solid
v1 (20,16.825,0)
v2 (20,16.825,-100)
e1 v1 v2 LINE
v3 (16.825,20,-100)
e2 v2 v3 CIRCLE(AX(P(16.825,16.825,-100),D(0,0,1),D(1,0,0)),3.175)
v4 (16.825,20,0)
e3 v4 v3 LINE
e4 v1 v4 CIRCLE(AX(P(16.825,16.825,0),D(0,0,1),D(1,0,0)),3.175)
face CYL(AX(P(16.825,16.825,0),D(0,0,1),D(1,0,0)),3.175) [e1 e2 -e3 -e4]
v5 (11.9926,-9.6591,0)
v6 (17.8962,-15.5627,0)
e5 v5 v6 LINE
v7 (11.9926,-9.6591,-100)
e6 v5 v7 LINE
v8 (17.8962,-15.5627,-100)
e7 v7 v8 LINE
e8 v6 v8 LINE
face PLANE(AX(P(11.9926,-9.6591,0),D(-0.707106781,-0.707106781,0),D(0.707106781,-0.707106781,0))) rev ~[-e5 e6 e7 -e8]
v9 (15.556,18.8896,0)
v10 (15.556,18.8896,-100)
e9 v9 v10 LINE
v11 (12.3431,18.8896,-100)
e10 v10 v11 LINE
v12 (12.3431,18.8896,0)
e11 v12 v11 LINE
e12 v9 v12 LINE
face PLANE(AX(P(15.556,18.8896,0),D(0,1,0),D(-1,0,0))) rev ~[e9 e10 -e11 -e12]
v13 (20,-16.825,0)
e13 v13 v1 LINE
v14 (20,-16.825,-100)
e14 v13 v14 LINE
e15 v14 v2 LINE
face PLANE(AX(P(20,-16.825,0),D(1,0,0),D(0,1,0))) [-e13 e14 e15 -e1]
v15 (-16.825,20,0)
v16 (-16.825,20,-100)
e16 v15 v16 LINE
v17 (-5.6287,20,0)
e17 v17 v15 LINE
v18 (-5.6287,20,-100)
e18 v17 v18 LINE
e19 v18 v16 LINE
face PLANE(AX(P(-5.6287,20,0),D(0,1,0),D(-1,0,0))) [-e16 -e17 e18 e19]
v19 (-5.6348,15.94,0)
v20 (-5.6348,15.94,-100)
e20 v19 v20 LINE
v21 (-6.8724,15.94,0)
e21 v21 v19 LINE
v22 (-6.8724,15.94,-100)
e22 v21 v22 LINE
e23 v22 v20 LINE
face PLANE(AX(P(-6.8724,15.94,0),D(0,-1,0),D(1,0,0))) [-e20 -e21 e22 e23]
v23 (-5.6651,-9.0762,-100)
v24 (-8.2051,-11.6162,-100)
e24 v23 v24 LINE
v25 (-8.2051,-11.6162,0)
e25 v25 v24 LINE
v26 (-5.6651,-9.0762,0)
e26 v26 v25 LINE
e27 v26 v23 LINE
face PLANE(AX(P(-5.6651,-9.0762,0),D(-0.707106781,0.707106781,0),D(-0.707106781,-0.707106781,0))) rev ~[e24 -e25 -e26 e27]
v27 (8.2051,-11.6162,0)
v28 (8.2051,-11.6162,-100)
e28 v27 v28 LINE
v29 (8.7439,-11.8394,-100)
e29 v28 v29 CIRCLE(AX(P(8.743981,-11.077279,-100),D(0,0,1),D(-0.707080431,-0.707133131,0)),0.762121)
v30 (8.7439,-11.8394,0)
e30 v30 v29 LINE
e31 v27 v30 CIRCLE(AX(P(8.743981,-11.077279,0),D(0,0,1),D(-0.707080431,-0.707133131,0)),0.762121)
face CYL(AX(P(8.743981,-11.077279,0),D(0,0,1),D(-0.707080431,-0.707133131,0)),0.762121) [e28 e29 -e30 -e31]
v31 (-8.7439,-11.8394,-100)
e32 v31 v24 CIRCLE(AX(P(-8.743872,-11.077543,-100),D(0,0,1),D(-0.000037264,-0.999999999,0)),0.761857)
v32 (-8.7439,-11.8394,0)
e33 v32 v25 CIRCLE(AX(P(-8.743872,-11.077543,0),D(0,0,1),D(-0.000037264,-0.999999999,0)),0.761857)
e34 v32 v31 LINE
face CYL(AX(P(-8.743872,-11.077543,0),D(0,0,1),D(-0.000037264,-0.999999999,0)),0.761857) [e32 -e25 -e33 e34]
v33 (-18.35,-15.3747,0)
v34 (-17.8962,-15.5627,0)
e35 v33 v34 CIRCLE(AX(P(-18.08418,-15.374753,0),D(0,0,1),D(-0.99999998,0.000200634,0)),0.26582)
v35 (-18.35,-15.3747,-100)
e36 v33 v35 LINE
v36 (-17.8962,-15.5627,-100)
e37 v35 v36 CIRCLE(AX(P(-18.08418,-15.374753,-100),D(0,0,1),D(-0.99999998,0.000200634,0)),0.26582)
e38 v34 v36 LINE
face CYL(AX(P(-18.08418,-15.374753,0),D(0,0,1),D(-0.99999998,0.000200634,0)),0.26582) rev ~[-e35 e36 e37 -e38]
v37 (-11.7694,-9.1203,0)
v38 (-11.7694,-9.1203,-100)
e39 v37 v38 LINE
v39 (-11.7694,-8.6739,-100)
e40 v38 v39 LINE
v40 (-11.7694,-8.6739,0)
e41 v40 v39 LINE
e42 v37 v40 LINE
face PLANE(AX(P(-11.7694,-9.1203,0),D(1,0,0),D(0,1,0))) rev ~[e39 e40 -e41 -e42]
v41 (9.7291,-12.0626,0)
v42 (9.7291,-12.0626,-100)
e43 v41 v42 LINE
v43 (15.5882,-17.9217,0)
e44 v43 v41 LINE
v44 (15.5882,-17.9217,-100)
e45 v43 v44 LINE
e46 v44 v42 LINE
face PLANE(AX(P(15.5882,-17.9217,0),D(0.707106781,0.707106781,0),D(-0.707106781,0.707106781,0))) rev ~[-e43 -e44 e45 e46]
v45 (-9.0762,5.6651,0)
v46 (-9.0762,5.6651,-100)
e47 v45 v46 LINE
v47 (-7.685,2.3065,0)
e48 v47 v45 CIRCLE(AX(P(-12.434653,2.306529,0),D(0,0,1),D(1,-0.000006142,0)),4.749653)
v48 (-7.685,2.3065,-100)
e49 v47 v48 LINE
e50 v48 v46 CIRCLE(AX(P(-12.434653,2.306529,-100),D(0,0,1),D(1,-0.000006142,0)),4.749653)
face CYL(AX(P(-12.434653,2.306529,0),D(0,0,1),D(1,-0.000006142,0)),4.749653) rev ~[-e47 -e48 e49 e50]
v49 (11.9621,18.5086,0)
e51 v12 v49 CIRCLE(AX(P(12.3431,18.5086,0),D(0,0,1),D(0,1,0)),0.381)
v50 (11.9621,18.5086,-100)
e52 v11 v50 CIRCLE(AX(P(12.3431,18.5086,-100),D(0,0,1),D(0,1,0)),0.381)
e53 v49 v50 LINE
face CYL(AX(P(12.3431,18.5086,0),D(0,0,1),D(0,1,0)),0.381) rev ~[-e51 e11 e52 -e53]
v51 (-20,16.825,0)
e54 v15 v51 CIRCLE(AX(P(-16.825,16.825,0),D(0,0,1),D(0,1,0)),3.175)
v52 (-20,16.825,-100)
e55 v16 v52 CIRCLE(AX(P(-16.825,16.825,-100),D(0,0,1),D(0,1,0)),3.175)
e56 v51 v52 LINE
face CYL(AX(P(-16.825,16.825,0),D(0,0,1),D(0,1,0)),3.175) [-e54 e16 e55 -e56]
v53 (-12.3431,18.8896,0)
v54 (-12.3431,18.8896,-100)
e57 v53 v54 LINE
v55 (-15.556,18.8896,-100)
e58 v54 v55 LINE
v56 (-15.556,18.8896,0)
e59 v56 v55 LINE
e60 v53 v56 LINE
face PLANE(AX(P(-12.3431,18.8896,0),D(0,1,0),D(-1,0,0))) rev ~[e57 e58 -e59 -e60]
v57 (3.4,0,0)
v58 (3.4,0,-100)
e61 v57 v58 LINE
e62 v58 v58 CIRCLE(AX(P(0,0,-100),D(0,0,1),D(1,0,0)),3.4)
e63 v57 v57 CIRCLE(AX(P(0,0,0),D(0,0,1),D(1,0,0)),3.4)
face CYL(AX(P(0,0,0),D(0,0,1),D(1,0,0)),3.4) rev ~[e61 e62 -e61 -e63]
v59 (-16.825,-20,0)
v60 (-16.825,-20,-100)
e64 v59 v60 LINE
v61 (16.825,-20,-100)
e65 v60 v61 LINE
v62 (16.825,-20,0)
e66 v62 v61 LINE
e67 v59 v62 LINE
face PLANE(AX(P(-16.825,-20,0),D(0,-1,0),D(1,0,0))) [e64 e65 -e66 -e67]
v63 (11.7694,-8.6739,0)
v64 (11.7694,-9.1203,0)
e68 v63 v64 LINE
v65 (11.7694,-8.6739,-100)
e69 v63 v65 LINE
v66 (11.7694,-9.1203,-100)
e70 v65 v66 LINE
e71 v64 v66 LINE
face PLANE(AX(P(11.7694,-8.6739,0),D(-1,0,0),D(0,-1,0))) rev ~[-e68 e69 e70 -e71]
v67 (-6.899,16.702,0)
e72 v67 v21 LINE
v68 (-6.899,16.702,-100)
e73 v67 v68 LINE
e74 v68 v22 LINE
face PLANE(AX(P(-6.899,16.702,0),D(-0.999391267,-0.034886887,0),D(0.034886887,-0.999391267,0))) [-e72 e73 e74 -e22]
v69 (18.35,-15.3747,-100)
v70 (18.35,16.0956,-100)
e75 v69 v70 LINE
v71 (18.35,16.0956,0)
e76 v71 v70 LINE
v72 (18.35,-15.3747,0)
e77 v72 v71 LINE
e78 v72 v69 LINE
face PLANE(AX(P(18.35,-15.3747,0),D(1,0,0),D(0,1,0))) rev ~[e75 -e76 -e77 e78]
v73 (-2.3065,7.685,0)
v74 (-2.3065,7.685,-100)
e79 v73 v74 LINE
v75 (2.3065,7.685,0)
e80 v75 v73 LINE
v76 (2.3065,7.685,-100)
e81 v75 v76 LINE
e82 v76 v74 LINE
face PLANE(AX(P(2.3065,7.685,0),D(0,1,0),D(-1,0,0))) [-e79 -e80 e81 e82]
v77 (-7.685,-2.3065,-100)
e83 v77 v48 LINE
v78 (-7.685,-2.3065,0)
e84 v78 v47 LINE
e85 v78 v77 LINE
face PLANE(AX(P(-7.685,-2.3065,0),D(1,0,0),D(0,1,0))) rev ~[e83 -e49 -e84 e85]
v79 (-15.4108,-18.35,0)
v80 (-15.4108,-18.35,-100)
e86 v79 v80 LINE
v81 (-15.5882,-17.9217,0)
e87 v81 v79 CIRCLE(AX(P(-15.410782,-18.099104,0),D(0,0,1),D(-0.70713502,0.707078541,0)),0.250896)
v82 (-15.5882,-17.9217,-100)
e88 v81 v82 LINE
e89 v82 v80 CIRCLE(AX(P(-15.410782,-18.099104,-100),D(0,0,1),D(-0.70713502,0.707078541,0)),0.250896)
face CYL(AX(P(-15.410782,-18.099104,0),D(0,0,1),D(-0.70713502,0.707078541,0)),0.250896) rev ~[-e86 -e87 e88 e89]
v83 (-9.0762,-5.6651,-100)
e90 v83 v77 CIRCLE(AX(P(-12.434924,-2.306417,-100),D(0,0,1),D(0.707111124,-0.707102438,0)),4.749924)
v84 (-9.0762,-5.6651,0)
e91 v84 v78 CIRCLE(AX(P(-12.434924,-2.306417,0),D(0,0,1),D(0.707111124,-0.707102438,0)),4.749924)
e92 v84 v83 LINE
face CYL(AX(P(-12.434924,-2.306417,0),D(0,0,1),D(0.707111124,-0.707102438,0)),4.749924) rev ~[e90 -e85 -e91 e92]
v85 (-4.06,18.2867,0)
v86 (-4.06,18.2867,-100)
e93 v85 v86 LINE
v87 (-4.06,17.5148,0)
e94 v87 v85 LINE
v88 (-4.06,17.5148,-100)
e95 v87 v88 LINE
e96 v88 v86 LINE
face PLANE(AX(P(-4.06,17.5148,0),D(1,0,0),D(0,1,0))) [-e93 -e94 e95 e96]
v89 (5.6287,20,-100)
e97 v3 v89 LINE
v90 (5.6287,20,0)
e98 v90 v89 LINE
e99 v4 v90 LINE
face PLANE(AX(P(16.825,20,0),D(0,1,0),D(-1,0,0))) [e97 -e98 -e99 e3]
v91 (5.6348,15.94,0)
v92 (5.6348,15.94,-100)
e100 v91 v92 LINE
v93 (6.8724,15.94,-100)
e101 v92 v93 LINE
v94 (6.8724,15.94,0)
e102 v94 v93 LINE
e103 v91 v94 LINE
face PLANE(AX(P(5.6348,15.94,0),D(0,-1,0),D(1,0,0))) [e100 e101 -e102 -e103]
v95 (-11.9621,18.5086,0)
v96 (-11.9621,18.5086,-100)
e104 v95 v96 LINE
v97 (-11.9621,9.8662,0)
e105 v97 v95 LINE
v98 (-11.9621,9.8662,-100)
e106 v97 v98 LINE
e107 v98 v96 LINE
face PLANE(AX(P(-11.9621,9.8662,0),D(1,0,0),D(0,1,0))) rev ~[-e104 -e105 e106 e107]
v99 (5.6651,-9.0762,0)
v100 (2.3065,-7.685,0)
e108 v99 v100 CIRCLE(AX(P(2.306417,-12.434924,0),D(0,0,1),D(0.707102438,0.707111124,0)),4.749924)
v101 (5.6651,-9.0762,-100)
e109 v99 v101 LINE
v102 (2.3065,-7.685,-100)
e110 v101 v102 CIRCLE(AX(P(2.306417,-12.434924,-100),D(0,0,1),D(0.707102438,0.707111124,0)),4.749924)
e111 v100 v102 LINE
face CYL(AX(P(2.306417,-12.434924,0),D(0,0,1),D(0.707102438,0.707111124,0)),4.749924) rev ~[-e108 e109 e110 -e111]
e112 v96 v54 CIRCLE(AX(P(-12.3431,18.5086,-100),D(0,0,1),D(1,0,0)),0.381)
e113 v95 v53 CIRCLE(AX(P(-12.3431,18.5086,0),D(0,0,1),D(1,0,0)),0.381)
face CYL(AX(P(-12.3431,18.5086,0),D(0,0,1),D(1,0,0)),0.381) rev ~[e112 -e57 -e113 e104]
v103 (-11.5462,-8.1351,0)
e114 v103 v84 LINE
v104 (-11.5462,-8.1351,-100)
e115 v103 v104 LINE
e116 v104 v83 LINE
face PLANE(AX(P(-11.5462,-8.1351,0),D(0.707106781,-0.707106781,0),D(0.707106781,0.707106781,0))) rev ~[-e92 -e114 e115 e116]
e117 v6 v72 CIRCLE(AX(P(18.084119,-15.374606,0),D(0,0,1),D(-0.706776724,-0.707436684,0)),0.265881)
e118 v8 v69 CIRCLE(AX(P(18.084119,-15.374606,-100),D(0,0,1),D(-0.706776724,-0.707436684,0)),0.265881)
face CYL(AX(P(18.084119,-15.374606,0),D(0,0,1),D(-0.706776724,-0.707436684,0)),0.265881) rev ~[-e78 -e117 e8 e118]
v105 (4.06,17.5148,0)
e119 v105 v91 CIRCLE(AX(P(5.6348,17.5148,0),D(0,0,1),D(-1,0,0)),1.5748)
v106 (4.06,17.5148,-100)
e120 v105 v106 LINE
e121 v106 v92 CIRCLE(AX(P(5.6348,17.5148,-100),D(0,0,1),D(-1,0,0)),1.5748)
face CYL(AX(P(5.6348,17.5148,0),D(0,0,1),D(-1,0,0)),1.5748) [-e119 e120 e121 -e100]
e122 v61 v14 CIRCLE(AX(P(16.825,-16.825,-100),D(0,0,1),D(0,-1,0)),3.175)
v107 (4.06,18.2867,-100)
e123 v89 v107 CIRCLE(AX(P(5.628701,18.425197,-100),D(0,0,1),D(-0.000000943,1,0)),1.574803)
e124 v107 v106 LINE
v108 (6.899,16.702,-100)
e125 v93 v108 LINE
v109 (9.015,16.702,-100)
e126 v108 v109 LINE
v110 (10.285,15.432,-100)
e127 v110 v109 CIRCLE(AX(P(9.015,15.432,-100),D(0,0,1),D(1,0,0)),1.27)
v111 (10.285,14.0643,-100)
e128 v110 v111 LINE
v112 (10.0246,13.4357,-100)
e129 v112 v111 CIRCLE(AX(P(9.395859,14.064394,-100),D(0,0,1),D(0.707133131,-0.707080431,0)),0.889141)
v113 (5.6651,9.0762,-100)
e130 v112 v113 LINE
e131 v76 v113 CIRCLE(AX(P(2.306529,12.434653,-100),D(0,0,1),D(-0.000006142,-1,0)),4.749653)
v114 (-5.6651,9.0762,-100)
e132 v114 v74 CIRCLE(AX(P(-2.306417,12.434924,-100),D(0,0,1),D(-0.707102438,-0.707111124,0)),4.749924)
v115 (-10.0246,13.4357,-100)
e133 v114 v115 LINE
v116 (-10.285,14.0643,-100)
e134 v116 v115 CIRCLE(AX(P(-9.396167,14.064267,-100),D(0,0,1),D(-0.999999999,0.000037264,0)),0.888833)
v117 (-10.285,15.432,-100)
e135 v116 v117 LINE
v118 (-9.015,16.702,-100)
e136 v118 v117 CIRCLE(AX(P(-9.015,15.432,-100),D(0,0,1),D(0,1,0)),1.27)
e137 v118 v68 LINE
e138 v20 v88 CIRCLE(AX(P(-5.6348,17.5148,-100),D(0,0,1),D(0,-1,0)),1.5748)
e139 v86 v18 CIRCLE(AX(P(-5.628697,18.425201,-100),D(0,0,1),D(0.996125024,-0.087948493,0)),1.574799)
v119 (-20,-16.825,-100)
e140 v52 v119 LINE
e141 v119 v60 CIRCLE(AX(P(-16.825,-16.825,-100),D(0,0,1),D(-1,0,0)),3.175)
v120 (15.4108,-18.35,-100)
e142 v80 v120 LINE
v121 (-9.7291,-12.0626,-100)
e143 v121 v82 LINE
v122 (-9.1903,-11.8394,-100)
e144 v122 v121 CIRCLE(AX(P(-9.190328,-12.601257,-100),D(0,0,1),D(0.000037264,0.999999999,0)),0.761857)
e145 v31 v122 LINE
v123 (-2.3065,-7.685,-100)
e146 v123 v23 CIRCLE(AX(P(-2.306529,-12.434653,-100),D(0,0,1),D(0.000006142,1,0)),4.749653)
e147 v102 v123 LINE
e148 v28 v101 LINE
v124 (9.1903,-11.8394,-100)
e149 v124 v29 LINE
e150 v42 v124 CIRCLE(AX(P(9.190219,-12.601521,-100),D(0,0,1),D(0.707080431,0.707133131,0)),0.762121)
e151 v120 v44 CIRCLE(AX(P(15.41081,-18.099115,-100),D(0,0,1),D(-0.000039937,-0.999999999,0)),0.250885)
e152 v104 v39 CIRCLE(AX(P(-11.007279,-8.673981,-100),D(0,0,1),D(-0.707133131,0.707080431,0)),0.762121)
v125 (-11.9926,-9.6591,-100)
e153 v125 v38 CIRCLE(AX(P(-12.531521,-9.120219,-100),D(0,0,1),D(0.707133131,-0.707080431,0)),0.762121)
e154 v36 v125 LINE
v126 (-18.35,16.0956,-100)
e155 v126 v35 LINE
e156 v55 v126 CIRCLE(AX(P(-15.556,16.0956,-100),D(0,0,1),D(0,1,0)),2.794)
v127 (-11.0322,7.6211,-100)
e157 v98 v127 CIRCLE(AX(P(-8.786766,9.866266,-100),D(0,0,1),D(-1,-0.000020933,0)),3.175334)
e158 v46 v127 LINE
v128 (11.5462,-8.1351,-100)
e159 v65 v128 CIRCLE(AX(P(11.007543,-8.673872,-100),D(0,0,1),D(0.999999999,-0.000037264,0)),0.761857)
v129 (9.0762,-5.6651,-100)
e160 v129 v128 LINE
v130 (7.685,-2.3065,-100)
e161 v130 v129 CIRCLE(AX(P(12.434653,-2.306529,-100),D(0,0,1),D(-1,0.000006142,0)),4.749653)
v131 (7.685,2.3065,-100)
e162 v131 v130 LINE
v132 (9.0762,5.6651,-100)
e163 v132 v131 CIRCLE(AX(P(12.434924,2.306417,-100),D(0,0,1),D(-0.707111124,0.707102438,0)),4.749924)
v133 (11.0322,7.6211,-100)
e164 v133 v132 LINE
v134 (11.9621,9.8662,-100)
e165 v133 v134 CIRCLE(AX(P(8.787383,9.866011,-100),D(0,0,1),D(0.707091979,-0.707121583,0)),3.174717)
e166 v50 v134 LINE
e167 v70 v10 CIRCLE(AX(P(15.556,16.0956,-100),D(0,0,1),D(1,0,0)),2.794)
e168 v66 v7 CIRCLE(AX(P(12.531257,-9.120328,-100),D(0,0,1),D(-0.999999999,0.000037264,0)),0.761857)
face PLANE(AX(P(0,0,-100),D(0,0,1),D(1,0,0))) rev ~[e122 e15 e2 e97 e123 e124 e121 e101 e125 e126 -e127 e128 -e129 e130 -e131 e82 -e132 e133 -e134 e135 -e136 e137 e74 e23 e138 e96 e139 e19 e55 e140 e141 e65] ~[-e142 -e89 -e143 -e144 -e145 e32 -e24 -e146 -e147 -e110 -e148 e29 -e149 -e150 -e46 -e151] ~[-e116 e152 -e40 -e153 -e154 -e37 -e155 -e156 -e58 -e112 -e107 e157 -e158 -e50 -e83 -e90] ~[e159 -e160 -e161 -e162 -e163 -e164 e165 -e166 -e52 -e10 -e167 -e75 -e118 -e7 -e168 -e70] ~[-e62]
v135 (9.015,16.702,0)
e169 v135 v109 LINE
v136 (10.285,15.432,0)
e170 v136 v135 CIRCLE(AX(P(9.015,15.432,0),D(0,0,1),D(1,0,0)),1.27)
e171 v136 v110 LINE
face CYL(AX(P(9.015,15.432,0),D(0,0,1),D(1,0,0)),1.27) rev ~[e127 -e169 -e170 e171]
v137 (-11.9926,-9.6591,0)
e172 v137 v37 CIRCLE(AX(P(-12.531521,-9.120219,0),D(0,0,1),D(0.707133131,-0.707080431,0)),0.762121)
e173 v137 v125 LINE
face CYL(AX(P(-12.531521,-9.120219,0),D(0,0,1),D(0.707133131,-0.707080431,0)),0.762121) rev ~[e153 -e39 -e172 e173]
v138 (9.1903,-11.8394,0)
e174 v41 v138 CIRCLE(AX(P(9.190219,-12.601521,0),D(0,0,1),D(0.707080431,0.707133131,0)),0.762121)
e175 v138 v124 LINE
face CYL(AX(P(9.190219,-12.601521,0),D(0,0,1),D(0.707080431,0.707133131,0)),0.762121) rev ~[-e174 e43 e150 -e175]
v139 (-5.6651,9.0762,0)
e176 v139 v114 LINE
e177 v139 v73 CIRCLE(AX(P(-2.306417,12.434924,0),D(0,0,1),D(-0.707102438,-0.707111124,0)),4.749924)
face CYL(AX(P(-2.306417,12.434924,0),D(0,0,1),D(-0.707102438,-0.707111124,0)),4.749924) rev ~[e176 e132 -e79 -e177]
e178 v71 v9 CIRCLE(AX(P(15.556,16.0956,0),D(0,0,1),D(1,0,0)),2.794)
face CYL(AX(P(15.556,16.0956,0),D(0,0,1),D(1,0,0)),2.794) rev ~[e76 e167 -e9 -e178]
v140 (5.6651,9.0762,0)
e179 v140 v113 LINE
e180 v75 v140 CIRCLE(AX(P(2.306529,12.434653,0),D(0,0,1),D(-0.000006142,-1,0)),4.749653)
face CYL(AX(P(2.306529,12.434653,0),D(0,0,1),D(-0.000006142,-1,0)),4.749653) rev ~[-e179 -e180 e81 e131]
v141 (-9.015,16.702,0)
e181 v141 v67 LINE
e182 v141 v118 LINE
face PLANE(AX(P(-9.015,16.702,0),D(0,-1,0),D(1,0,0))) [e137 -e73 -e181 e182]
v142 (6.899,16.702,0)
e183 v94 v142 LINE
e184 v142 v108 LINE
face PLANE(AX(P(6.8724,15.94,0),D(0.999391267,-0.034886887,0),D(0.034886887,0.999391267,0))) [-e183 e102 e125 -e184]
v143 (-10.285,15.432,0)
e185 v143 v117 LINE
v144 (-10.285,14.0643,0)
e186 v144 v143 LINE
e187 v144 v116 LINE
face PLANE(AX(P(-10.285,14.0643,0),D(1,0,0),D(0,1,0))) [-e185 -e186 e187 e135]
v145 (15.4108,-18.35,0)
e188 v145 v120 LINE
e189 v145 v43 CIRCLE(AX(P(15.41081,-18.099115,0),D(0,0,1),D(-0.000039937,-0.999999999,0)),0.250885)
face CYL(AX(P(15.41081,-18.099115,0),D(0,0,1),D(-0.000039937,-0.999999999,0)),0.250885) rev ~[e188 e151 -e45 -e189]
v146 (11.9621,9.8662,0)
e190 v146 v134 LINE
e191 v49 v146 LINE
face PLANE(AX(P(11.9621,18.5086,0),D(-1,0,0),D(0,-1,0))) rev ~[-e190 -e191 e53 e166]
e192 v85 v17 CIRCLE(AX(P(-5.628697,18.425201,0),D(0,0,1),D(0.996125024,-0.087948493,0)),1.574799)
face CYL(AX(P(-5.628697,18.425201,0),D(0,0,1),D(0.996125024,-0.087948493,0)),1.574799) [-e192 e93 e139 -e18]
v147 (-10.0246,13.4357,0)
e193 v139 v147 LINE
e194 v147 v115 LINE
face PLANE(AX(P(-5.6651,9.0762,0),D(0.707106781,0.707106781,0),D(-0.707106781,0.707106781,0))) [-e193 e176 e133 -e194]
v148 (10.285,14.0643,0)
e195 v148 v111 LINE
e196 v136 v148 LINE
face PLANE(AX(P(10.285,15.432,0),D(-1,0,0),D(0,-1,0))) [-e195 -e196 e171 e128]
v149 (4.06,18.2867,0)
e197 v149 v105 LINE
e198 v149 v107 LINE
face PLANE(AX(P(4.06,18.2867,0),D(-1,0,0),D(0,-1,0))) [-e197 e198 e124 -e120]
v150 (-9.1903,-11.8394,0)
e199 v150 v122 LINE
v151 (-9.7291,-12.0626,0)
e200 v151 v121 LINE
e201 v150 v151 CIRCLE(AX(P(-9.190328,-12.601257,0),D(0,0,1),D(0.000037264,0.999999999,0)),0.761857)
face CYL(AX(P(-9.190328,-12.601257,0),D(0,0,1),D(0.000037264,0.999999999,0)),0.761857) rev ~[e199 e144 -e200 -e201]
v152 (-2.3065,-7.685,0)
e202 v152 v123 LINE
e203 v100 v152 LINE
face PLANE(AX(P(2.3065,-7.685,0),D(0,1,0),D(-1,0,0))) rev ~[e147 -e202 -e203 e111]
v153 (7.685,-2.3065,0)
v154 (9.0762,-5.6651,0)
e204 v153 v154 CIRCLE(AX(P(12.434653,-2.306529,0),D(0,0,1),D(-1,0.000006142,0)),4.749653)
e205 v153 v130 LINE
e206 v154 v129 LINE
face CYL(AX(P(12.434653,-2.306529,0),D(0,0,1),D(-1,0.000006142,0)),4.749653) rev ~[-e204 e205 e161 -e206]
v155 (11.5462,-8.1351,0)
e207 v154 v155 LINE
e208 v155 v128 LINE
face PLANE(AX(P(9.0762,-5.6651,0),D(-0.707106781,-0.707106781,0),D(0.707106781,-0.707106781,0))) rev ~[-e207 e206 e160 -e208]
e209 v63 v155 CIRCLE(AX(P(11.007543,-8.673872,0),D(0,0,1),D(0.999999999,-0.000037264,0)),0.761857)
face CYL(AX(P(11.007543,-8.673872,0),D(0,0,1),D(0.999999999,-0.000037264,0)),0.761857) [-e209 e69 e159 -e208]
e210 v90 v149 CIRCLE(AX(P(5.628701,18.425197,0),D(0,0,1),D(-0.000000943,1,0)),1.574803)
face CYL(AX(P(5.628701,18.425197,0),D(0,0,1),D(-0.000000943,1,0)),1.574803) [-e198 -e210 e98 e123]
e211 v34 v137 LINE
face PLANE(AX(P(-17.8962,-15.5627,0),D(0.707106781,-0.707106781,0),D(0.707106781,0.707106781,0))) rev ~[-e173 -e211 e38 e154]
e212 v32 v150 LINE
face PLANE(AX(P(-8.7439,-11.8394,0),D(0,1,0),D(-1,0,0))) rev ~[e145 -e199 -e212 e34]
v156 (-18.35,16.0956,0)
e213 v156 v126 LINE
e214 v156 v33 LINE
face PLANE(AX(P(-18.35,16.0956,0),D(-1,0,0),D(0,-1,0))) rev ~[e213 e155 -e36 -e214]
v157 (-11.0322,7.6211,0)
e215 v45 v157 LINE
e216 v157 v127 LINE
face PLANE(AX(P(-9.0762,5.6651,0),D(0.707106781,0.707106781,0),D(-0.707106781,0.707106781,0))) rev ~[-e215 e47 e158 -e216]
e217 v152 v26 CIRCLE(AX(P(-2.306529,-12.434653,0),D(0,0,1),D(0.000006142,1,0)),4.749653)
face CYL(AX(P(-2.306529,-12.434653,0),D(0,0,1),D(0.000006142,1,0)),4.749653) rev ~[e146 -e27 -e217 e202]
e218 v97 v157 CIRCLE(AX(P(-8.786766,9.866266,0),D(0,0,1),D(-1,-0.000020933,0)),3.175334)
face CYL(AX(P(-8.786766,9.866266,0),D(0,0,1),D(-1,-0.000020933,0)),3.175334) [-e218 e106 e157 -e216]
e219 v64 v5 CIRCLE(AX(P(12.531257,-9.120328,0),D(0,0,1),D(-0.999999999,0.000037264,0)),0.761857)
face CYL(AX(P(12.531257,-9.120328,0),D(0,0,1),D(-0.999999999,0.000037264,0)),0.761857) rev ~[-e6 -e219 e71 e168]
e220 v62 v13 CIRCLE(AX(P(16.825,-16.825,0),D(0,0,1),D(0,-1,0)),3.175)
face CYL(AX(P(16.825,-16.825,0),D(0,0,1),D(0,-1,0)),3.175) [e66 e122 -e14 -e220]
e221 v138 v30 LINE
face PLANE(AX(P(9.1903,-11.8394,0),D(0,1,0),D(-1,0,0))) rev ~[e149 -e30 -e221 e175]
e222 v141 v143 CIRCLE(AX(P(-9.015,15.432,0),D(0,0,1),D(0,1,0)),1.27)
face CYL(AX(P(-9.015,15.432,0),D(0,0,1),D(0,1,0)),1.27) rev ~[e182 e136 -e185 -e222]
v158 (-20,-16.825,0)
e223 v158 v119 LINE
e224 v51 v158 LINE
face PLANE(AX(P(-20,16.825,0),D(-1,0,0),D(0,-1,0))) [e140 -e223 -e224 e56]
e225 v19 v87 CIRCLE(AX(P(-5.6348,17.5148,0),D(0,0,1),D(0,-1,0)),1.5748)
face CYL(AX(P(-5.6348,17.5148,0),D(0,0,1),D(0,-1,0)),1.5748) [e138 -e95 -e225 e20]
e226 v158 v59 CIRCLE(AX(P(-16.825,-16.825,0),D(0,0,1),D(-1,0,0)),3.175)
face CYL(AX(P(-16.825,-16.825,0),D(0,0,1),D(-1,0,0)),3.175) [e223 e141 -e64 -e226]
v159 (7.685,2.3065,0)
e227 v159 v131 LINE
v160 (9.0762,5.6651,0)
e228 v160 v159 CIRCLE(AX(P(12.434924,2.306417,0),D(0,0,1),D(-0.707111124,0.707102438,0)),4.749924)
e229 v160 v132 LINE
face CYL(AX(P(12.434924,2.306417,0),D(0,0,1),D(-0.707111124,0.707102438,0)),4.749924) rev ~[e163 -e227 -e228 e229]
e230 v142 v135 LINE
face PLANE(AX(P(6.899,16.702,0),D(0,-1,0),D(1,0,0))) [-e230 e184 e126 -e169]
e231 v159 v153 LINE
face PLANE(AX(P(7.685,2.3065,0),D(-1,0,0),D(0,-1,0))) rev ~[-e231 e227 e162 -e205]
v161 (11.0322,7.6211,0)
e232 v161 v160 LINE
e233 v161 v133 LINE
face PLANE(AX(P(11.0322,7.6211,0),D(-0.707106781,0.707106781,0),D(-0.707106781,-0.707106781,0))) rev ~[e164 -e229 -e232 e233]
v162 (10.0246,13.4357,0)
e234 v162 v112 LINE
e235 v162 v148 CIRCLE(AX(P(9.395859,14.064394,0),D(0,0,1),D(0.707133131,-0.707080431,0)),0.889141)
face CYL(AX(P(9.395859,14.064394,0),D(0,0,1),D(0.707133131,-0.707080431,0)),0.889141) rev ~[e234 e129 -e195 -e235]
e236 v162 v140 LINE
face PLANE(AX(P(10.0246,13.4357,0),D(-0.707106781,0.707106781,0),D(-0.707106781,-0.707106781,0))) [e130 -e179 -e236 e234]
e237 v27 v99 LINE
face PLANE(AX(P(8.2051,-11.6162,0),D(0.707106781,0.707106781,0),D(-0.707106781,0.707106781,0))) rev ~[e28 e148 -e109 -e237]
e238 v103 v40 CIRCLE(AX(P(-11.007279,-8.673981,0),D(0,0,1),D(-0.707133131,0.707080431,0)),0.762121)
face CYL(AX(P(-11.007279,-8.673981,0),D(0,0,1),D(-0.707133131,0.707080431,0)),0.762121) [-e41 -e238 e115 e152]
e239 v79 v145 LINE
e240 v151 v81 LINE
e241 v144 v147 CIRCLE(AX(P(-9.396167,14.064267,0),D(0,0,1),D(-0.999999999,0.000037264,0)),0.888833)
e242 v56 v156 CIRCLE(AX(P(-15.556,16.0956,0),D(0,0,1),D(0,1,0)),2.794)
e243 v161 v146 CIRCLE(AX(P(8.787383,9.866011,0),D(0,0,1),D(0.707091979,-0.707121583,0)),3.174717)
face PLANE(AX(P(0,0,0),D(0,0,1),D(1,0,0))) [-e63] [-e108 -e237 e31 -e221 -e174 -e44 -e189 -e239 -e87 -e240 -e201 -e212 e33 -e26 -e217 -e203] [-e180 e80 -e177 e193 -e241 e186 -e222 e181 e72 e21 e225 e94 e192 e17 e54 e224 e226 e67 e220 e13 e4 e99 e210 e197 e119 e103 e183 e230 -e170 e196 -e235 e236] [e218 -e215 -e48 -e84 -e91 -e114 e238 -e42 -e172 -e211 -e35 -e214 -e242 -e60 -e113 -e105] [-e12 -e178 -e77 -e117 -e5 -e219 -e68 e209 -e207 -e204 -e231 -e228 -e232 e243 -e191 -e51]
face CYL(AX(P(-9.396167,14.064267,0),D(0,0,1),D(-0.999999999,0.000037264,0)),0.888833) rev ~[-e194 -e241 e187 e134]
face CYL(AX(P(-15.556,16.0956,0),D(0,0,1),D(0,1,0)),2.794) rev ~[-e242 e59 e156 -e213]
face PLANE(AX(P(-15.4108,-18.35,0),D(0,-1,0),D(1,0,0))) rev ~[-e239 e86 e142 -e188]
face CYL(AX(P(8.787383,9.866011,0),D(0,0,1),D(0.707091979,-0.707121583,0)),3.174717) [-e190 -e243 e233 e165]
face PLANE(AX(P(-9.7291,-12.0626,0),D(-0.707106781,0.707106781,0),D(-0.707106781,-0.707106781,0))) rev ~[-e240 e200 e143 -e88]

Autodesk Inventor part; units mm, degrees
ref_plane "YZ Plane" through (0, 0, 0) normal (1, 0, 0) x (0, 1, 0)
ref_plane "XZ Plane" through (0, 0, 0) normal (0, 1, 0) x (-1, 0, 0)
ref_plane "XY Plane" through (0, 0, 0) normal (0, 0, 1) x (1, 0, 0)
sketch "Sketch1" plane through (0, 0, 0) normal (0, 0, 1) x (1, 0, 0)
  circle A0 centre (0, 0) radius 3.4
  arc A1 (15.4108, -18.35) -> (15.5882, -17.9217) centre (15.4108, -18.0991) ccw
  line L0 (-15.4108, -18.35) -> (15.4108, -18.35)
  arc A2 (-15.5882, -17.9217) -> (-15.4108, -18.35) centre (-15.4108, -18.0991) ccw
  line L1 (-9.7291, -12.0626) -> (-15.5882, -17.9217)
  arc A3 (-9.1903, -11.8394) -> (-9.7291, -12.0626) centre (-9.1903, -12.6014) ccw
  line L2 (-8.7439, -11.8394) -> (-9.1903, -11.8394)
  arc A4 (-8.7439, -11.8394) -> (-8.2051, -11.6162) centre (-8.7439, -11.0774) ccw
  line L3 (-5.6651, -9.0762) -> (-8.2051, -11.6162)
  arc A5 (-2.3065, -7.685) -> (-5.6651, -9.0762) centre (-2.3065, -12.4348) ccw
  line L4 (2.3065, -7.685) -> (-2.3065, -7.685)
  arc A6 (5.6651, -9.0762) -> (2.3065, -7.685) centre (2.3065, -12.4348) ccw
  line L5 (8.2051, -11.6162) -> (5.6651, -9.0762)
  arc A7 (8.2051, -11.6162) -> (8.7439, -11.8394) centre (8.7439, -11.0774) ccw
  line L6 (9.1903, -11.8394) -> (8.7439, -11.8394)
  arc A8 (9.7291, -12.0626) -> (9.1903, -11.8394) centre (9.1903, -12.6014) ccw
  line L7 (15.5882, -17.9217) -> (9.7291, -12.0626)
  arc A9 (11.7694, -8.6739) -> (11.5462, -8.1351) centre (11.0074, -8.6739) ccw
  line L8 (9.0762, -5.6651) -> (11.5462, -8.1351)
  arc A10 (7.685, -2.3065) -> (9.0762, -5.6651) centre (12.4348, -2.3065) ccw
  line L9 (7.685, 2.3065) -> (7.685, -2.3065)
  arc A11 (9.0762, 5.6651) -> (7.685, 2.3065) centre (12.4348, 2.3065) ccw
  line L10 (11.0322, 7.6211) -> (9.0762, 5.6651)
  arc A12 (11.0322, 7.6211) -> (11.9621, 9.8662) centre (8.7871, 9.8662) ccw
  line L11 (11.9621, 18.5086) -> (11.9621, 9.8662)
  arc A13 (12.3431, 18.8896) -> (11.9621, 18.5086) centre (12.3431, 18.5086) ccw
  line L12 (15.556, 18.8896) -> (12.3431, 18.8896)
  arc A14 (18.35, 16.0956) -> (15.556, 18.8896) centre (15.556, 16.0956) ccw
  line L13 (18.35, -15.3747) -> (18.35, 16.0956)
  arc A15 (17.8962, -15.5627) -> (18.35, -15.3747) centre (18.0841, -15.3747) ccw
  line L14 (11.9926, -9.6591) -> (17.8962, -15.5627)
  arc A16 (11.7694, -9.1203) -> (11.9926, -9.6591) centre (12.5314, -9.1203) ccw
  line L15 (11.7694, -8.6739) -> (11.7694, -9.1203)
  arc A17 (-9.0762, -5.6651) -> (-7.685, -2.3065) centre (-12.4348, -2.3065) ccw
  line L16 (-11.5462, -8.1351) -> (-9.0762, -5.6651)
  arc A18 (-11.5462, -8.1351) -> (-11.7694, -8.6739) centre (-11.0074, -8.6739) ccw
  line L17 (-11.7694, -9.1203) -> (-11.7694, -8.6739)
  arc A19 (-11.9926, -9.6591) -> (-11.7694, -9.1203) centre (-12.5314, -9.1203) ccw
  line L18 (-17.8962, -15.5627) -> (-11.9926, -9.6591)
  arc A20 (-18.35, -15.3747) -> (-17.8962, -15.5627) centre (-18.0841, -15.3747) ccw
  line L19 (-18.35, 16.0956) -> (-18.35, -15.3747)
  arc A21 (-15.556, 18.8896) -> (-18.35, 16.0956) centre (-15.556, 16.0956) ccw
  line L20 (-12.3431, 18.8896) -> (-15.556, 18.8896)
  arc A22 (-11.9621, 18.5086) -> (-12.3431, 18.8896) centre (-12.3431, 18.5086) ccw
  line L21 (-11.9621, 9.8662) -> (-11.9621, 18.5086)
  arc A23 (-11.9621, 9.8662) -> (-11.0322, 7.6211) centre (-8.7871, 9.8662) ccw
  line L22 (-9.0762, 5.6651) -> (-11.0322, 7.6211)
  arc A24 (-7.685, 2.3065) -> (-9.0762, 5.6651) centre (-12.4348, 2.3065) ccw
  line L23 (-7.685, -2.3065) -> (-7.685, 2.3065)
  arc A25 (20, 16.825) -> (16.825, 20) centre (16.825, 16.825) ccw
  line L24 (16.825, 20) -> (5.6287, 20)
  arc A26 (5.6287, 20) -> (4.06, 18.2867) centre (5.6287, 18.4252) ccw
  line L25 (4.06, 18.2867) -> (4.06, 17.5148)
  arc A27 (4.06, 17.5148) -> (5.6348, 15.94) centre (5.6348, 17.5148) ccw
  line L26 (5.6348, 15.94) -> (6.8724, 15.94)
  line L27 (6.8724, 15.94) -> (6.899, 16.702)
  line L28 (6.899, 16.702) -> (9.015, 16.702)
  arc A28 (10.285, 15.432) -> (9.015, 16.702) centre (9.015, 15.432) ccw
  line L29 (10.285, 15.432) -> (10.285, 14.0643)
  arc A29 (10.0246, 13.4357) -> (10.285, 14.0643) centre (9.396, 14.0643) ccw
  line L30 (10.0246, 13.4357) -> (5.6651, 9.0762)
  arc A30 (2.3065, 7.685) -> (5.6651, 9.0762) centre (2.3065, 12.4348) ccw
  line L31 (2.3065, 7.685) -> (-2.3065, 7.685)
  arc A31 (-5.6651, 9.0762) -> (-2.3065, 7.685) centre (-2.3065, 12.4348) ccw
  line L32 (-5.6651, 9.0762) -> (-10.0246, 13.4357)
  arc A32 (-10.285, 14.0643) -> (-10.0246, 13.4357) centre (-9.396, 14.0643) ccw
  line L33 (-10.285, 14.0643) -> (-10.285, 15.432)
  arc A33 (-9.015, 16.702) -> (-10.285, 15.432) centre (-9.015, 15.432) ccw
  line L34 (-9.015, 16.702) -> (-6.899, 16.702)
  line L35 (-6.899, 16.702) -> (-6.8724, 15.94)
  line L36 (-6.8724, 15.94) -> (-5.6348, 15.94)
  arc A34 (-5.6348, 15.94) -> (-4.06, 17.5148) centre (-5.6348, 17.5148) ccw
  line L37 (-4.06, 17.5148) -> (-4.06, 18.2867)
  arc A35 (-4.06, 18.2867) -> (-5.6287, 20) centre (-5.6287, 18.4252) ccw
  line L38 (-5.6287, 20) -> (-16.825, 20)
  arc A36 (-16.825, 20) -> (-20, 16.825) centre (-16.825, 16.825) ccw
  line L39 (-20, 16.825) -> (-20, -16.825)
  arc A37 (-20, -16.825) -> (-16.825, -20) centre (-16.825, -16.825) ccw
  line L40 (-16.825, -20) -> (16.825, -20)
  arc A38 (16.825, -20) -> (20, -16.825) centre (16.825, -16.825) ccw
  line L41 (20, -16.825) -> (20, 16.825)
extrude "Extrusion1" add sketch "Sketch1" against normal blind 100
properties part number "40-4001"
